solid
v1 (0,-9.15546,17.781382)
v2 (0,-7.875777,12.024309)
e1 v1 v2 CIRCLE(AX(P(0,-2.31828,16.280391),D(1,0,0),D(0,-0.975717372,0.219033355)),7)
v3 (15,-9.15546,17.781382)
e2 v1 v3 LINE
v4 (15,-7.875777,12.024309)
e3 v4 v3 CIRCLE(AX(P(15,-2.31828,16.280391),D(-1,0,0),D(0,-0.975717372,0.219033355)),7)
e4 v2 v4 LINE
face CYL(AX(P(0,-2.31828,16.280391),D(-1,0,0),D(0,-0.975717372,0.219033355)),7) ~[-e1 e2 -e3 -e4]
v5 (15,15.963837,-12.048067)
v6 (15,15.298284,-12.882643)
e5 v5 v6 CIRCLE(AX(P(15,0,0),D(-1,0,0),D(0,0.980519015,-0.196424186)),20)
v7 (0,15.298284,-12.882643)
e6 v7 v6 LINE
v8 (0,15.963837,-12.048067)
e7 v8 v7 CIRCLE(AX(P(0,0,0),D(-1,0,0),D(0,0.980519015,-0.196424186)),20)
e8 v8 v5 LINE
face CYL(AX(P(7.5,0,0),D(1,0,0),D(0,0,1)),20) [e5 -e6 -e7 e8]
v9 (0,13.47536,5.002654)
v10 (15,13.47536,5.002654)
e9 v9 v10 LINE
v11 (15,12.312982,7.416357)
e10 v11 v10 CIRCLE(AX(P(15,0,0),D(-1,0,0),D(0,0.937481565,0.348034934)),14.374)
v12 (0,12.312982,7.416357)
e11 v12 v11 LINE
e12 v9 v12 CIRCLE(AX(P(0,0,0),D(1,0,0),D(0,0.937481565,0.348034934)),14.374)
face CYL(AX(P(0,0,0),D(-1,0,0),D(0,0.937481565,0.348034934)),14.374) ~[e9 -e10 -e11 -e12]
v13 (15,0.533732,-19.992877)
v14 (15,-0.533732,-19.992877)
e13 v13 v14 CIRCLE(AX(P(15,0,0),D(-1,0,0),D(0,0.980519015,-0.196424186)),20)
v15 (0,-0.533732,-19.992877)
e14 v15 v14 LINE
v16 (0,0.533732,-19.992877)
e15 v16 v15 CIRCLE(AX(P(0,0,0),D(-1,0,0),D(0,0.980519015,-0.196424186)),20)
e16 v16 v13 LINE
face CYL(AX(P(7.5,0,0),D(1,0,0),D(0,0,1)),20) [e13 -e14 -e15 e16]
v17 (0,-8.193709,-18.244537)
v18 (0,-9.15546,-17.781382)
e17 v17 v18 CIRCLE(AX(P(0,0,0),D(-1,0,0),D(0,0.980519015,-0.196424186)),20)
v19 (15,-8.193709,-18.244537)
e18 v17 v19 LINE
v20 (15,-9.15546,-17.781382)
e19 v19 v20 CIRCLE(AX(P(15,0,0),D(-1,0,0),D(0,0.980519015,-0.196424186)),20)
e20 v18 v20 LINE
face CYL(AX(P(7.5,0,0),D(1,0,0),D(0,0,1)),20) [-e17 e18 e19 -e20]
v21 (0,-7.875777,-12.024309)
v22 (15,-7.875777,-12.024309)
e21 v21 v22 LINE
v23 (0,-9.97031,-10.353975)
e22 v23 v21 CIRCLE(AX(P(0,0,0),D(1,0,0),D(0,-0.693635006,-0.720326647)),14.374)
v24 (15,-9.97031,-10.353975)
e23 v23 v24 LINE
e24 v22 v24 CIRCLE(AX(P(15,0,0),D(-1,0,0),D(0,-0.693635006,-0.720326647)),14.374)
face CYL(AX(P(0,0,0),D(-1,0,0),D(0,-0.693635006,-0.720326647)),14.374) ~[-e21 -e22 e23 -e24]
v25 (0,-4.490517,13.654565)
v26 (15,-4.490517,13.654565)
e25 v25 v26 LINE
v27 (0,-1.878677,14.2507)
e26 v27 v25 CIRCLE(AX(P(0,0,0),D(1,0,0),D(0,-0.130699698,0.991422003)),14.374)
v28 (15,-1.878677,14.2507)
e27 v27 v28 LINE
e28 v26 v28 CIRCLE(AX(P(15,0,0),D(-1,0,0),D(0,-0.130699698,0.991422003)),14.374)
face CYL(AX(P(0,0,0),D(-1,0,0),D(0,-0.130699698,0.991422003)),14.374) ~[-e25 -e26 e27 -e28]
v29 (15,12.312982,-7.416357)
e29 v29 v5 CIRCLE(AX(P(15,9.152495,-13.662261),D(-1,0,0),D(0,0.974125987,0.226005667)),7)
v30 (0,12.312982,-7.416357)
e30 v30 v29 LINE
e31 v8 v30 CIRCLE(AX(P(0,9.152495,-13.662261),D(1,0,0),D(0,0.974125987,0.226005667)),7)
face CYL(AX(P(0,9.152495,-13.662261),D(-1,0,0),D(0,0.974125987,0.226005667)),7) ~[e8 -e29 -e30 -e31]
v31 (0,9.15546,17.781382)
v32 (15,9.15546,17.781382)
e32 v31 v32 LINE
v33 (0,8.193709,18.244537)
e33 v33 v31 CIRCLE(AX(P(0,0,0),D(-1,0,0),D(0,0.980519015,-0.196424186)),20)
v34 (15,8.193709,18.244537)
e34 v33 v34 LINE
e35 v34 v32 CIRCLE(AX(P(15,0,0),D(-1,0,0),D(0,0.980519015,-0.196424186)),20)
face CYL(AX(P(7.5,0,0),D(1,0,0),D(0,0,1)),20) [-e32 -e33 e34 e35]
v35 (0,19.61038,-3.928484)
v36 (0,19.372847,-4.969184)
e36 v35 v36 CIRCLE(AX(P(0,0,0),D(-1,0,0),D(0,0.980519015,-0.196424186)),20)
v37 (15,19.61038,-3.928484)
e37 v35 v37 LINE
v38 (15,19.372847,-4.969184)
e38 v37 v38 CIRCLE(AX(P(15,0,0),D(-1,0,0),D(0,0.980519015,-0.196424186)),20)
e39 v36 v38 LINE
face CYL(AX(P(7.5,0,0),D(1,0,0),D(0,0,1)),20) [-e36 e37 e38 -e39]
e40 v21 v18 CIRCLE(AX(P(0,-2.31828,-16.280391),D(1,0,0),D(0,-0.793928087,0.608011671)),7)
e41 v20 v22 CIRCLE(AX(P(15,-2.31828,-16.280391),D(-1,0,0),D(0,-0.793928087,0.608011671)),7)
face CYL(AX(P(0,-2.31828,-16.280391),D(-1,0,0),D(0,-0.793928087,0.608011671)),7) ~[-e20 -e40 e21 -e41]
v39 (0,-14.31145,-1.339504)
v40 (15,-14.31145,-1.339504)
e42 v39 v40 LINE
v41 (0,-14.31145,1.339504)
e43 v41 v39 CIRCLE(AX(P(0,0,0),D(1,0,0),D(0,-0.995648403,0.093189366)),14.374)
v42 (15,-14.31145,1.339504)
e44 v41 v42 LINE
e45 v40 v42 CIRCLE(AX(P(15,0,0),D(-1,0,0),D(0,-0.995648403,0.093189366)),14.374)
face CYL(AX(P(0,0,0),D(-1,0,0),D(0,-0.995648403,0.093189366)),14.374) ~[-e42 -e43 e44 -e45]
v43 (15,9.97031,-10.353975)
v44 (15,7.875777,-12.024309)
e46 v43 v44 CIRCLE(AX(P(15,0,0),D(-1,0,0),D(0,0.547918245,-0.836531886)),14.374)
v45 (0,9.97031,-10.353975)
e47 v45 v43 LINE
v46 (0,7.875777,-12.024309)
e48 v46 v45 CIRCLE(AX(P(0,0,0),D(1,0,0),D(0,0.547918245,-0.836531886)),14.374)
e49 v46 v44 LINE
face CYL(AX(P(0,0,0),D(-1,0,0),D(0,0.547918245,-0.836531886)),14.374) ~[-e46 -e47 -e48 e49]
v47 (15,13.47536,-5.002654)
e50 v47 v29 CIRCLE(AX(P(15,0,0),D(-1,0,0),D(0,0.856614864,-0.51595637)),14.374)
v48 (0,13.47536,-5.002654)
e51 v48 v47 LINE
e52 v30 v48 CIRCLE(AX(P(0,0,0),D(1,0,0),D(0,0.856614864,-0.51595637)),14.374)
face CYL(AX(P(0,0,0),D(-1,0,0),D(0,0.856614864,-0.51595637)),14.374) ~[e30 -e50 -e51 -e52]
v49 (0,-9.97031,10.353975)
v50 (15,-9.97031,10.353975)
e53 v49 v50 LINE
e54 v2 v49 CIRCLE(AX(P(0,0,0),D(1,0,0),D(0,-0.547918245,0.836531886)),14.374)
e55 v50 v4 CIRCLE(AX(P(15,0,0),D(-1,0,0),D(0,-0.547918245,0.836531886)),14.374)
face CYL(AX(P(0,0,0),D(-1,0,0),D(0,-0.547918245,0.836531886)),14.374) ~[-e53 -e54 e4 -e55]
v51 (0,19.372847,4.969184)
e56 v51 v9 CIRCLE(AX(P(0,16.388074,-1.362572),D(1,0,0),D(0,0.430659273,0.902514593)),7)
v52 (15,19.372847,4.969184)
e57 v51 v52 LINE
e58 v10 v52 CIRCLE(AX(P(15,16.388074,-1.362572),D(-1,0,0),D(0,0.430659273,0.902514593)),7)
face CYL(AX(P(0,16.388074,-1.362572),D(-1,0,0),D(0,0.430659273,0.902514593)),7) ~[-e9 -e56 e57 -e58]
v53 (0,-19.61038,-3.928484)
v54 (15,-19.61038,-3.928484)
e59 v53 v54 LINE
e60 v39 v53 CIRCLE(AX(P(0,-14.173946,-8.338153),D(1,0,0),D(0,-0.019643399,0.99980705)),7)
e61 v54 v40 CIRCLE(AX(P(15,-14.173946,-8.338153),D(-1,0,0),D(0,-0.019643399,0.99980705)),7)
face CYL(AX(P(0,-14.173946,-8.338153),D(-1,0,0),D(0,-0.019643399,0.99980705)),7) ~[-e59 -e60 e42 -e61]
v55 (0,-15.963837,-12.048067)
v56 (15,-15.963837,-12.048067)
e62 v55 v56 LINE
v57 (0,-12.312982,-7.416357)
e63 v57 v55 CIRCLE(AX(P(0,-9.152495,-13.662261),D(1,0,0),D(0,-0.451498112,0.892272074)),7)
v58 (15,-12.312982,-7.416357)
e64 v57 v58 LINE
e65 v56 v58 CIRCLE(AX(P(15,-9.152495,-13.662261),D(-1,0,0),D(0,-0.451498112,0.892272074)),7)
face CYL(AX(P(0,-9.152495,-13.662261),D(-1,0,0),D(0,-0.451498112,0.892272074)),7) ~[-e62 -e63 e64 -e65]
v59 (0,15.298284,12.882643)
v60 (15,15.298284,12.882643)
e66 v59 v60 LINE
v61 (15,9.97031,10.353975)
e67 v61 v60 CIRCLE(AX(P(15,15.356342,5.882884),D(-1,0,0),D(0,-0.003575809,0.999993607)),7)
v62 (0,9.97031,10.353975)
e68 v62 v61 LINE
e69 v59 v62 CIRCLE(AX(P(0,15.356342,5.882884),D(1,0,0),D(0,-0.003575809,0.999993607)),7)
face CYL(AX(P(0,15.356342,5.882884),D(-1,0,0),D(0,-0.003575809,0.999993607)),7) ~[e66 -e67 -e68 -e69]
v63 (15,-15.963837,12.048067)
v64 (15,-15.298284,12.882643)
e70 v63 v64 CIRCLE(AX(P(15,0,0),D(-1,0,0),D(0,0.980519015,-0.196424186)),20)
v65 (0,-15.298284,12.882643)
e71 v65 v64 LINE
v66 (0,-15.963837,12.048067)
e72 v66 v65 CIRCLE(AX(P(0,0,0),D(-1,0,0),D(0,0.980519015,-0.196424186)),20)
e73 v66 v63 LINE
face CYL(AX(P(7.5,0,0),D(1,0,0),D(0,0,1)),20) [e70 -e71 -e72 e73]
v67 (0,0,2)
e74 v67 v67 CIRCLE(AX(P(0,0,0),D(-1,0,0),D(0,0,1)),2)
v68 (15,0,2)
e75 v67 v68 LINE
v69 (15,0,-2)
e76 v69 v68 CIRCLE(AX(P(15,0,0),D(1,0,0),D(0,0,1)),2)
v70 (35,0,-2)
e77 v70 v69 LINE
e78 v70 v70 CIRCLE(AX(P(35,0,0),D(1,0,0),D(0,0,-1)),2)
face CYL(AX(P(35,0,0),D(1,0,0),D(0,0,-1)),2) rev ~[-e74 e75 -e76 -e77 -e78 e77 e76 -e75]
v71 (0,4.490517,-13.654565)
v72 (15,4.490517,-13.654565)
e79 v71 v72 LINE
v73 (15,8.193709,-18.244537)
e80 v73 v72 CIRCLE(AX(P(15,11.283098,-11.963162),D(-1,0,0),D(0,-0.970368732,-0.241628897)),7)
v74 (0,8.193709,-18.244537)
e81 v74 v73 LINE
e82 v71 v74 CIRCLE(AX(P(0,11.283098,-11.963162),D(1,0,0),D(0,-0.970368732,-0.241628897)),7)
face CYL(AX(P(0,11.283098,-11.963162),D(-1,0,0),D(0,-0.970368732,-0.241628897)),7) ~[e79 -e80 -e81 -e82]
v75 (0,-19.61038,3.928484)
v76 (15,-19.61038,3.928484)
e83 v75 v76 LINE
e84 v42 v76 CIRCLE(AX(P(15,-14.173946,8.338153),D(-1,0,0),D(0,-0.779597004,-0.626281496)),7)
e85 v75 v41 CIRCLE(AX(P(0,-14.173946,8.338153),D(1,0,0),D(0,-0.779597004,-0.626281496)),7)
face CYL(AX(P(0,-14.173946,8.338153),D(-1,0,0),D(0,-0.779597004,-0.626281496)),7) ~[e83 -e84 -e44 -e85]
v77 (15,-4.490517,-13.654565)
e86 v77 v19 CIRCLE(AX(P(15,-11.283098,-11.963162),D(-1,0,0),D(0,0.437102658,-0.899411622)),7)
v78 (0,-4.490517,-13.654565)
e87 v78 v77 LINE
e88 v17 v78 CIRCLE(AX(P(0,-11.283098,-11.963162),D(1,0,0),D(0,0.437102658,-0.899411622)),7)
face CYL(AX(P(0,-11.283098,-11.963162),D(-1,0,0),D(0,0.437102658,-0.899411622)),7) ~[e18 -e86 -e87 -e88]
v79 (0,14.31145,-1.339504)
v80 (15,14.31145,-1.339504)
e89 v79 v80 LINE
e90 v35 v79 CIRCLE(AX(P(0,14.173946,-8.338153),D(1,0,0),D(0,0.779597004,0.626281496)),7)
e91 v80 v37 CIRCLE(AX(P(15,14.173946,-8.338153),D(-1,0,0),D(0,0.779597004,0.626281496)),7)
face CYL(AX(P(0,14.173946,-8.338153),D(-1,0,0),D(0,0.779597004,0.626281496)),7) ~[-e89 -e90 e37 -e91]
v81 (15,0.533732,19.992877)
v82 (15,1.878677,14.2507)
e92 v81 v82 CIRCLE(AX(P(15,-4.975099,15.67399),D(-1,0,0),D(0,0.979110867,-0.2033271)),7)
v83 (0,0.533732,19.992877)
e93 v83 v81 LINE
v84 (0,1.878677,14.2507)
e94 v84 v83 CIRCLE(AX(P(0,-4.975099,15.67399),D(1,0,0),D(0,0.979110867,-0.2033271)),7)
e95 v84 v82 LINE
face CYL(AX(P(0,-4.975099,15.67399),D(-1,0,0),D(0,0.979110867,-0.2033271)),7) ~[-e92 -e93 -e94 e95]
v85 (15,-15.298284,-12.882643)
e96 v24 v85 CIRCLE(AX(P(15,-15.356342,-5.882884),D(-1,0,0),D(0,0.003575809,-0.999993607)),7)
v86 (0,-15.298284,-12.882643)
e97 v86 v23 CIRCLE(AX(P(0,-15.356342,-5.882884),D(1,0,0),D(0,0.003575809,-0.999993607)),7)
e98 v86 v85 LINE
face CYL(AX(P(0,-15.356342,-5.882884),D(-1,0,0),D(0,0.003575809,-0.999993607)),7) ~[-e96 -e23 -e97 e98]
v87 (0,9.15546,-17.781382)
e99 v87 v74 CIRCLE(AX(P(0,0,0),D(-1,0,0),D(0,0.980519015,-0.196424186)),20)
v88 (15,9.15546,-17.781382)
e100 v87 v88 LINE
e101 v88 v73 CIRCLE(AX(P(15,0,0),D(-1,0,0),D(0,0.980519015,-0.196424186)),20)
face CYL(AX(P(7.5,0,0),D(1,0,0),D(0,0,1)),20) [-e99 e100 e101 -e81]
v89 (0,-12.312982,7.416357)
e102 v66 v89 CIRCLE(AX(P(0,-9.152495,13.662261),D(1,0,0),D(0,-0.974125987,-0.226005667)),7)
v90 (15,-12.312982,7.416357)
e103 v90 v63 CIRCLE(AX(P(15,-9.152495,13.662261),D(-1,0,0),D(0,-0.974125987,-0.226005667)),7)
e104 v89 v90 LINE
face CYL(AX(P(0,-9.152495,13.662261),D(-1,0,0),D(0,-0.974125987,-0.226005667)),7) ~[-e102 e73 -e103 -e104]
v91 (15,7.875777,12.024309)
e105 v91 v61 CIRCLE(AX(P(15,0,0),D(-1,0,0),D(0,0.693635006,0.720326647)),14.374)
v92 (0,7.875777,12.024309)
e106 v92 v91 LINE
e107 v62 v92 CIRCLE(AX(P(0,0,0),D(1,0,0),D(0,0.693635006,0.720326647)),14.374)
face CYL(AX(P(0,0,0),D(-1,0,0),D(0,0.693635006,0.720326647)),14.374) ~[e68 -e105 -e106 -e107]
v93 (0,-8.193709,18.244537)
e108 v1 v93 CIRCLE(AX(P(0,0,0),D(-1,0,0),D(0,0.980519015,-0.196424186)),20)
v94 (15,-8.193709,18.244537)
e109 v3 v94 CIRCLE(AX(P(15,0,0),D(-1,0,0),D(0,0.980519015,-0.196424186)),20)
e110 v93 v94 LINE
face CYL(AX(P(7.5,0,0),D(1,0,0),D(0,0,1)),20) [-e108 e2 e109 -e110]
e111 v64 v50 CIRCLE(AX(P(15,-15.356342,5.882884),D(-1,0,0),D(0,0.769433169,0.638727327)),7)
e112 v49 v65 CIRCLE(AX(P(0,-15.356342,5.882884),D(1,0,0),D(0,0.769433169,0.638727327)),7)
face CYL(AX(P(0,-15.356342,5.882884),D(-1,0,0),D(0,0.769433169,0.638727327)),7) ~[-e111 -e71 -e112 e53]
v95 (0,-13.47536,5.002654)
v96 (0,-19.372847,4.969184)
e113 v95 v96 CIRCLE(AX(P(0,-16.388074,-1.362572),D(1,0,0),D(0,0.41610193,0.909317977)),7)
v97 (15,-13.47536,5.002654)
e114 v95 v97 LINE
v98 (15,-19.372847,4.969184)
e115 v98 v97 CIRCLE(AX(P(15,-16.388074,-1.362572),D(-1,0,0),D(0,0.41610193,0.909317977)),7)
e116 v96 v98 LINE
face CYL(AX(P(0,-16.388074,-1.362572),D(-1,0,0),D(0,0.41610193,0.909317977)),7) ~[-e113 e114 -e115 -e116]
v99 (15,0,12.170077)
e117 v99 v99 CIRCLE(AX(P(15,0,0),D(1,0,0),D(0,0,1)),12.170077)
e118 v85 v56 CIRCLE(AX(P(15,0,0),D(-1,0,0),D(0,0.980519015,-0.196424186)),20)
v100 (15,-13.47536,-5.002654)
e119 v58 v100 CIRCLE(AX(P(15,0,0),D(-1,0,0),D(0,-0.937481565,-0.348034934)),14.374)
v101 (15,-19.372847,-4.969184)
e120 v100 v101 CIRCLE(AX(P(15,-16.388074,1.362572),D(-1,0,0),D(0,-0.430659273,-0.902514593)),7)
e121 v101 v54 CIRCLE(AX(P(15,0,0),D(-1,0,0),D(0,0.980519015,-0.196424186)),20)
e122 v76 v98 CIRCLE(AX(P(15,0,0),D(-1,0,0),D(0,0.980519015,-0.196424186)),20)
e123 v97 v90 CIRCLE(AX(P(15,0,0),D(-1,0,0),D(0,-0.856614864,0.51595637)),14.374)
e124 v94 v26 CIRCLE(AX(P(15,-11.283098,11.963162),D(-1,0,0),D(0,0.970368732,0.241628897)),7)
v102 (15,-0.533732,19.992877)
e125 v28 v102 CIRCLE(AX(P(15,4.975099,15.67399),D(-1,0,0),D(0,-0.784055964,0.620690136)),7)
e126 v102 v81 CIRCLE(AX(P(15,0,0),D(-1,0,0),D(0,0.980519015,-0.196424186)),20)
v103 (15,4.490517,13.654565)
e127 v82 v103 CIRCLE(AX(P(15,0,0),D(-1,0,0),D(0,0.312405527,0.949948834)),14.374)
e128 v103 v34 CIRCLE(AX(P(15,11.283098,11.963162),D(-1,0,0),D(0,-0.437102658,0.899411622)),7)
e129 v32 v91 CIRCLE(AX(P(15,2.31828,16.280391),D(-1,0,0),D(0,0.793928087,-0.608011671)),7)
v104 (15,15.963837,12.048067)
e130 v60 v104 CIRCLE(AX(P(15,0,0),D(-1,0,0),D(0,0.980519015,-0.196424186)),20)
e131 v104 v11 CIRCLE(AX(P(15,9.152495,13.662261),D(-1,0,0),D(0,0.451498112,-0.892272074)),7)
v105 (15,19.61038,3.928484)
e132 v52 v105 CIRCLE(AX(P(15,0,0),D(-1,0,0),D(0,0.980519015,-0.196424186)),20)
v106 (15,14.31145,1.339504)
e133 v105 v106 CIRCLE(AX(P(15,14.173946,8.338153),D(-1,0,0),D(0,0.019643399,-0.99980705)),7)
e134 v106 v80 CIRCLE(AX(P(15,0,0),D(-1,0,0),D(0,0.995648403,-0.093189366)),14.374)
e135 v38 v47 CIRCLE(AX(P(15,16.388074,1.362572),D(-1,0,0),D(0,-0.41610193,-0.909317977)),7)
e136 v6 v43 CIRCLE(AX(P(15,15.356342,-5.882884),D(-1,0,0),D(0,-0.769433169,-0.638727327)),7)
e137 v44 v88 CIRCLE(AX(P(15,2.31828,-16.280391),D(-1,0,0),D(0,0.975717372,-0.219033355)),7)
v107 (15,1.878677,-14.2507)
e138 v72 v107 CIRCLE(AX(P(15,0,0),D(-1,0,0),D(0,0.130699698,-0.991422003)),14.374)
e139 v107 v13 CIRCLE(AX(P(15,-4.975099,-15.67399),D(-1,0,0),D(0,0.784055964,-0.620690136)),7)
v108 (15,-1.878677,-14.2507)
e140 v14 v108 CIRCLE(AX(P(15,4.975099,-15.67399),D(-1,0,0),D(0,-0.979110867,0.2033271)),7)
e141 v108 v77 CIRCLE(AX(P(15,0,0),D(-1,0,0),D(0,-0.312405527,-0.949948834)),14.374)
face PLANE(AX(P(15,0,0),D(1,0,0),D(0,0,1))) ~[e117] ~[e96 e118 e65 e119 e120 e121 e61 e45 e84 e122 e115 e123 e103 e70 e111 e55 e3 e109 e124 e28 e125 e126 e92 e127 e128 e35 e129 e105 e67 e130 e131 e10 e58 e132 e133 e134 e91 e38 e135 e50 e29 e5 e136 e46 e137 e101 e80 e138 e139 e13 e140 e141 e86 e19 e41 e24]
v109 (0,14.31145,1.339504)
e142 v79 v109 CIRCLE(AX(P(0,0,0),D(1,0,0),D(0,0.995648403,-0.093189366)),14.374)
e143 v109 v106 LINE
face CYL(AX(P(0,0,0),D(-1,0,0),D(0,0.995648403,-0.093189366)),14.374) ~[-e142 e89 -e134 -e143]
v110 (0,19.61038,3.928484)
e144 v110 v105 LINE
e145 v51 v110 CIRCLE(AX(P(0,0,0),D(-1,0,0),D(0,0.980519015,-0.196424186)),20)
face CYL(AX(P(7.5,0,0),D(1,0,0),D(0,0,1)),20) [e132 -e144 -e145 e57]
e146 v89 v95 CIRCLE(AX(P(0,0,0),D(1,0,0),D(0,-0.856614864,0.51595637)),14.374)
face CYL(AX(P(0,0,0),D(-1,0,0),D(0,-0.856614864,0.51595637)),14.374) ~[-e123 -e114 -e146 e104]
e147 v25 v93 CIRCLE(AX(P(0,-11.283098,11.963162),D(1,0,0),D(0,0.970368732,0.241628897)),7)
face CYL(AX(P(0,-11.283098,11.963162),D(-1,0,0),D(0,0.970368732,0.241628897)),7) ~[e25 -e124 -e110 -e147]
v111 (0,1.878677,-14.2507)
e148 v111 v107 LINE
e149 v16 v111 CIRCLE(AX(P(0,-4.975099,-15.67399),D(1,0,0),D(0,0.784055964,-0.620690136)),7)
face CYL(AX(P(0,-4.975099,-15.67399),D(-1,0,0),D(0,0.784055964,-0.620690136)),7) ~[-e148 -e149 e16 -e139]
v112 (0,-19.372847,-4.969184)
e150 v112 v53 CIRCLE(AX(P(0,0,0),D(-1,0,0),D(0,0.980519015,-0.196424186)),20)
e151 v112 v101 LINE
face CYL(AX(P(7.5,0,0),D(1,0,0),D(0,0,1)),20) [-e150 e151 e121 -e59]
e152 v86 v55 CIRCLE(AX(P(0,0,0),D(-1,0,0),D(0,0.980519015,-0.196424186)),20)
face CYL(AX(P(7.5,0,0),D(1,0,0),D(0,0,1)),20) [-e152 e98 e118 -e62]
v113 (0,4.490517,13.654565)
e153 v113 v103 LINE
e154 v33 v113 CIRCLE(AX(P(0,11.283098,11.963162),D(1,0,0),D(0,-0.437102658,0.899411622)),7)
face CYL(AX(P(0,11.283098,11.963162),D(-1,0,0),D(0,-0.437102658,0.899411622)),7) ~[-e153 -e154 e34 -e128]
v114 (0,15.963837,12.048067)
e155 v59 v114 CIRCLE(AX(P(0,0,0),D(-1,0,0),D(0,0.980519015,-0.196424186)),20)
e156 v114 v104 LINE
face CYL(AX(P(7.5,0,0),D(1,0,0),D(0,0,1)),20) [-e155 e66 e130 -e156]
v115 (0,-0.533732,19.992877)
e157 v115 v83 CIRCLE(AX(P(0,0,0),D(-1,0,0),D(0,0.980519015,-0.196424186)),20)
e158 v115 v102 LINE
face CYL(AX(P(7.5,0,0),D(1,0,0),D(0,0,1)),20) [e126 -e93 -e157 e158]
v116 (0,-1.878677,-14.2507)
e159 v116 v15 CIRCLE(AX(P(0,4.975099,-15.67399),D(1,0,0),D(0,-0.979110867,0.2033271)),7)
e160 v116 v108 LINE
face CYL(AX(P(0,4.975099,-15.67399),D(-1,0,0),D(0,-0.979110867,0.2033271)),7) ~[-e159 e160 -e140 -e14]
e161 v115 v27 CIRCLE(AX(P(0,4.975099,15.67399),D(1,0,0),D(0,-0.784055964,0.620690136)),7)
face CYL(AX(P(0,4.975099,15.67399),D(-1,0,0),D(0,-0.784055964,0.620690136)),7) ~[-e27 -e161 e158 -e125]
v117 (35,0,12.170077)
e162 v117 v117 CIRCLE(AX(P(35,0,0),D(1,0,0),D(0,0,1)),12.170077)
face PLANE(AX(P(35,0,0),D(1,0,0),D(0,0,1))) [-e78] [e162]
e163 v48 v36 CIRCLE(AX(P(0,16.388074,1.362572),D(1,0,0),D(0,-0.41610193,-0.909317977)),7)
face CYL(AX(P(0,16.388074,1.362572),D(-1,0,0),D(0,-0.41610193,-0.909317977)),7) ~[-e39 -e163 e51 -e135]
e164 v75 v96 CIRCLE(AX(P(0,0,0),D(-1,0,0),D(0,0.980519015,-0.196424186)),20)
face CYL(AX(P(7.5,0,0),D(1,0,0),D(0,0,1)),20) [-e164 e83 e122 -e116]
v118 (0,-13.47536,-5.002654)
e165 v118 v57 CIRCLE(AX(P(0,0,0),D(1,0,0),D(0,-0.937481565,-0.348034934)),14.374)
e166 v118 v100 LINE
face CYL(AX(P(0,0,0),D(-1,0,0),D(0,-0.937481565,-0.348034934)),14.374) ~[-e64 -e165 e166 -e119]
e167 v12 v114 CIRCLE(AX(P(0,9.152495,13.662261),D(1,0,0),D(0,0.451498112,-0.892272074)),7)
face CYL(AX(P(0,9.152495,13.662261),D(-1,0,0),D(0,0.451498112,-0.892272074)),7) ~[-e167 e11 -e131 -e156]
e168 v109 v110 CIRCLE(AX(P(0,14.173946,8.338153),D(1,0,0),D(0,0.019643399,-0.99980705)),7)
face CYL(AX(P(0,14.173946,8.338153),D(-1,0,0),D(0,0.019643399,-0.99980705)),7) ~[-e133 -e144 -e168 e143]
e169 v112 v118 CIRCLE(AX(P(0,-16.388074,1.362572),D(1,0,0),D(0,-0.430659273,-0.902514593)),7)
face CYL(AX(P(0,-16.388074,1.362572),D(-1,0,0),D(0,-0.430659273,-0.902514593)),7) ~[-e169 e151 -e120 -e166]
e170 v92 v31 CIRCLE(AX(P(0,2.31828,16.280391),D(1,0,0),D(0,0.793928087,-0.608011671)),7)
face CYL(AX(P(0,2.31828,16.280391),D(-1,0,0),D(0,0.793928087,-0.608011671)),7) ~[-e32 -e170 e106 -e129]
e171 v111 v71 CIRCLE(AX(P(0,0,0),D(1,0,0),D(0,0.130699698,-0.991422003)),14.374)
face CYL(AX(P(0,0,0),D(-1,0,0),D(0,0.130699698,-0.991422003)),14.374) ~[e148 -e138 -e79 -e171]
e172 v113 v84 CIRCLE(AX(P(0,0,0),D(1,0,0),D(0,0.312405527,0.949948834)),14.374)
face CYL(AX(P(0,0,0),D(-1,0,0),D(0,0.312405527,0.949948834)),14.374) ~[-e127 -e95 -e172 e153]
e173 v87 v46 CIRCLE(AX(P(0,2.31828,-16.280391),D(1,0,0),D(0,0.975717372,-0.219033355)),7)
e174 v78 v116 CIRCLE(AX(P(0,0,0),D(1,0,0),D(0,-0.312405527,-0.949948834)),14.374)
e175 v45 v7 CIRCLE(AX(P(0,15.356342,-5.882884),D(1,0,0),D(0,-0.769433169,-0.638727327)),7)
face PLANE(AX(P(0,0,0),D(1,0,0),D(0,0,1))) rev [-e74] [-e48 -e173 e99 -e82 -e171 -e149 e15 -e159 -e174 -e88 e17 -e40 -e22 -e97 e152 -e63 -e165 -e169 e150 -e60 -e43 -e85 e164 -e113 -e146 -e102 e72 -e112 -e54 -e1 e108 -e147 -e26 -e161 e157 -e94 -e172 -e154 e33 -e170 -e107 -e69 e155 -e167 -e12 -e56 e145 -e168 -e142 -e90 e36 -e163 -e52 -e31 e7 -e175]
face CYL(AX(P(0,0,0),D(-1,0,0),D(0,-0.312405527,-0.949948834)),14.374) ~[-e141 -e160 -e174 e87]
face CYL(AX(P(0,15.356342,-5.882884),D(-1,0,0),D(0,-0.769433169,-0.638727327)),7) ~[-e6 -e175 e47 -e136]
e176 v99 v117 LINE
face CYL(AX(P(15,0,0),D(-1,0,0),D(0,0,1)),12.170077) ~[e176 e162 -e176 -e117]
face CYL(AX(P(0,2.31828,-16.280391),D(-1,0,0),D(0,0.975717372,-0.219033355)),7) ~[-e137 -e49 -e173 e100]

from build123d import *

# Parameters (mm, degrees)
BASPROSKE_W         = 15
BASPROSKE_H         = 20
TOOTHCUT_DEPTH      = 33.015621187
TEETHCUTS_COUNT     = 14
TEETHCUTS_ANGLE     = 334.285714286
BORSKE_R            = 2
BORE_DEPTH          = 50.0000508
SKETCH1_R           = 12.170076636
BOSS_EXTRUDE1_DEPTH = 20
SKETCH3_R           = 2
CUT_EXTRUDE1_DEPTH  = 45.828194428


with BuildPart() as part:
    # BasProSke → Base-Revolve (revolve)
    with BuildSketch(Plane(origin=(0, 0, 0), x_dir=(1, 0, 0), z_dir=(0, 1, 0)), mode=Mode.PRIVATE) as base_revolve_sk:
        with Locations((7.5, 10)):
            Rectangle(BASPROSKE_W, BASPROSKE_H)
    revolve(base_revolve_sk.sketch.rotate(Axis((-10, 0, 0), (1, 0, 0)), 180), axis=Axis((-10, 0, 0), (1, 0, 0)))

    # TooCutSke → ToothCut (cut, through all)
    with BuildSketch(Plane(origin=(0, 0, 0), x_dir=(0, 0, -1), z_dir=(1, 0, 0))):
        with BuildLine():
            ThreePointArc((1.339503949, 14.311450142), (0, 14.374), (-1.339503949, 14.311450142))
            ThreePointArc((-1.339503949, 14.311450142), (-2.055976555, 17.261705303), (-3.954182827, 19.631125371))
            ThreePointArc((-3.954182827, 19.631125371), (0, 20.0254), (3.954182827, 19.631125371))
            ThreePointArc((3.954182827, 19.631125371), (2.055976555, 17.261705303), (1.339503949, 14.311450142))
        make_face()
    toothcut = extrude(amount=TOOTHCUT_DEPTH, mode=Mode.SUBTRACT)

    # TeethCuts: ToothCut ×14 about axis
    teethcuts_axis = Axis((-10, 0, 0), (1, 0, 0))
    for i in range(1, TEETHCUTS_COUNT):
        add(toothcut.rotate(teethcuts_axis, i * TEETHCUTS_ANGLE / (TEETHCUTS_COUNT - 1)), mode=Mode.SUBTRACT)

    # BorSke → Bore (cut, symmetric)
    with BuildSketch(Plane(origin=(0, 0, 0), x_dir=(0, 0, -1), z_dir=(1, 0, 0))):
        with Locations(Location((0, 0, 0), (0, 0, 180))):
            Circle(BORSKE_R)
    extrude(amount=BORE_DEPTH, both=True, mode=Mode.SUBTRACT)

    # Sketch1 → Boss-Extrude1 (add)
    with BuildSketch(Plane(origin=(15, 0, 0), x_dir=(0, 0, -1), z_dir=(1, 0, 0))):
        with Locations(Location((0, 0, 0), (0, 0, 180))):
            Circle(SKETCH1_R)
    extrude(amount=BOSS_EXTRUDE1_DEPTH)

    # Sketch3 → Cut-Extrude1 (cut, through all)
    with BuildSketch(Plane(origin=(35, 0, 0), x_dir=(0, 0, -1), z_dir=(1, 0, 0))):
        Circle(SKETCH3_R)
    extrude(amount=-CUT_EXTRUDE1_DEPTH, mode=Mode.SUBTRACT)


solid = part.part
